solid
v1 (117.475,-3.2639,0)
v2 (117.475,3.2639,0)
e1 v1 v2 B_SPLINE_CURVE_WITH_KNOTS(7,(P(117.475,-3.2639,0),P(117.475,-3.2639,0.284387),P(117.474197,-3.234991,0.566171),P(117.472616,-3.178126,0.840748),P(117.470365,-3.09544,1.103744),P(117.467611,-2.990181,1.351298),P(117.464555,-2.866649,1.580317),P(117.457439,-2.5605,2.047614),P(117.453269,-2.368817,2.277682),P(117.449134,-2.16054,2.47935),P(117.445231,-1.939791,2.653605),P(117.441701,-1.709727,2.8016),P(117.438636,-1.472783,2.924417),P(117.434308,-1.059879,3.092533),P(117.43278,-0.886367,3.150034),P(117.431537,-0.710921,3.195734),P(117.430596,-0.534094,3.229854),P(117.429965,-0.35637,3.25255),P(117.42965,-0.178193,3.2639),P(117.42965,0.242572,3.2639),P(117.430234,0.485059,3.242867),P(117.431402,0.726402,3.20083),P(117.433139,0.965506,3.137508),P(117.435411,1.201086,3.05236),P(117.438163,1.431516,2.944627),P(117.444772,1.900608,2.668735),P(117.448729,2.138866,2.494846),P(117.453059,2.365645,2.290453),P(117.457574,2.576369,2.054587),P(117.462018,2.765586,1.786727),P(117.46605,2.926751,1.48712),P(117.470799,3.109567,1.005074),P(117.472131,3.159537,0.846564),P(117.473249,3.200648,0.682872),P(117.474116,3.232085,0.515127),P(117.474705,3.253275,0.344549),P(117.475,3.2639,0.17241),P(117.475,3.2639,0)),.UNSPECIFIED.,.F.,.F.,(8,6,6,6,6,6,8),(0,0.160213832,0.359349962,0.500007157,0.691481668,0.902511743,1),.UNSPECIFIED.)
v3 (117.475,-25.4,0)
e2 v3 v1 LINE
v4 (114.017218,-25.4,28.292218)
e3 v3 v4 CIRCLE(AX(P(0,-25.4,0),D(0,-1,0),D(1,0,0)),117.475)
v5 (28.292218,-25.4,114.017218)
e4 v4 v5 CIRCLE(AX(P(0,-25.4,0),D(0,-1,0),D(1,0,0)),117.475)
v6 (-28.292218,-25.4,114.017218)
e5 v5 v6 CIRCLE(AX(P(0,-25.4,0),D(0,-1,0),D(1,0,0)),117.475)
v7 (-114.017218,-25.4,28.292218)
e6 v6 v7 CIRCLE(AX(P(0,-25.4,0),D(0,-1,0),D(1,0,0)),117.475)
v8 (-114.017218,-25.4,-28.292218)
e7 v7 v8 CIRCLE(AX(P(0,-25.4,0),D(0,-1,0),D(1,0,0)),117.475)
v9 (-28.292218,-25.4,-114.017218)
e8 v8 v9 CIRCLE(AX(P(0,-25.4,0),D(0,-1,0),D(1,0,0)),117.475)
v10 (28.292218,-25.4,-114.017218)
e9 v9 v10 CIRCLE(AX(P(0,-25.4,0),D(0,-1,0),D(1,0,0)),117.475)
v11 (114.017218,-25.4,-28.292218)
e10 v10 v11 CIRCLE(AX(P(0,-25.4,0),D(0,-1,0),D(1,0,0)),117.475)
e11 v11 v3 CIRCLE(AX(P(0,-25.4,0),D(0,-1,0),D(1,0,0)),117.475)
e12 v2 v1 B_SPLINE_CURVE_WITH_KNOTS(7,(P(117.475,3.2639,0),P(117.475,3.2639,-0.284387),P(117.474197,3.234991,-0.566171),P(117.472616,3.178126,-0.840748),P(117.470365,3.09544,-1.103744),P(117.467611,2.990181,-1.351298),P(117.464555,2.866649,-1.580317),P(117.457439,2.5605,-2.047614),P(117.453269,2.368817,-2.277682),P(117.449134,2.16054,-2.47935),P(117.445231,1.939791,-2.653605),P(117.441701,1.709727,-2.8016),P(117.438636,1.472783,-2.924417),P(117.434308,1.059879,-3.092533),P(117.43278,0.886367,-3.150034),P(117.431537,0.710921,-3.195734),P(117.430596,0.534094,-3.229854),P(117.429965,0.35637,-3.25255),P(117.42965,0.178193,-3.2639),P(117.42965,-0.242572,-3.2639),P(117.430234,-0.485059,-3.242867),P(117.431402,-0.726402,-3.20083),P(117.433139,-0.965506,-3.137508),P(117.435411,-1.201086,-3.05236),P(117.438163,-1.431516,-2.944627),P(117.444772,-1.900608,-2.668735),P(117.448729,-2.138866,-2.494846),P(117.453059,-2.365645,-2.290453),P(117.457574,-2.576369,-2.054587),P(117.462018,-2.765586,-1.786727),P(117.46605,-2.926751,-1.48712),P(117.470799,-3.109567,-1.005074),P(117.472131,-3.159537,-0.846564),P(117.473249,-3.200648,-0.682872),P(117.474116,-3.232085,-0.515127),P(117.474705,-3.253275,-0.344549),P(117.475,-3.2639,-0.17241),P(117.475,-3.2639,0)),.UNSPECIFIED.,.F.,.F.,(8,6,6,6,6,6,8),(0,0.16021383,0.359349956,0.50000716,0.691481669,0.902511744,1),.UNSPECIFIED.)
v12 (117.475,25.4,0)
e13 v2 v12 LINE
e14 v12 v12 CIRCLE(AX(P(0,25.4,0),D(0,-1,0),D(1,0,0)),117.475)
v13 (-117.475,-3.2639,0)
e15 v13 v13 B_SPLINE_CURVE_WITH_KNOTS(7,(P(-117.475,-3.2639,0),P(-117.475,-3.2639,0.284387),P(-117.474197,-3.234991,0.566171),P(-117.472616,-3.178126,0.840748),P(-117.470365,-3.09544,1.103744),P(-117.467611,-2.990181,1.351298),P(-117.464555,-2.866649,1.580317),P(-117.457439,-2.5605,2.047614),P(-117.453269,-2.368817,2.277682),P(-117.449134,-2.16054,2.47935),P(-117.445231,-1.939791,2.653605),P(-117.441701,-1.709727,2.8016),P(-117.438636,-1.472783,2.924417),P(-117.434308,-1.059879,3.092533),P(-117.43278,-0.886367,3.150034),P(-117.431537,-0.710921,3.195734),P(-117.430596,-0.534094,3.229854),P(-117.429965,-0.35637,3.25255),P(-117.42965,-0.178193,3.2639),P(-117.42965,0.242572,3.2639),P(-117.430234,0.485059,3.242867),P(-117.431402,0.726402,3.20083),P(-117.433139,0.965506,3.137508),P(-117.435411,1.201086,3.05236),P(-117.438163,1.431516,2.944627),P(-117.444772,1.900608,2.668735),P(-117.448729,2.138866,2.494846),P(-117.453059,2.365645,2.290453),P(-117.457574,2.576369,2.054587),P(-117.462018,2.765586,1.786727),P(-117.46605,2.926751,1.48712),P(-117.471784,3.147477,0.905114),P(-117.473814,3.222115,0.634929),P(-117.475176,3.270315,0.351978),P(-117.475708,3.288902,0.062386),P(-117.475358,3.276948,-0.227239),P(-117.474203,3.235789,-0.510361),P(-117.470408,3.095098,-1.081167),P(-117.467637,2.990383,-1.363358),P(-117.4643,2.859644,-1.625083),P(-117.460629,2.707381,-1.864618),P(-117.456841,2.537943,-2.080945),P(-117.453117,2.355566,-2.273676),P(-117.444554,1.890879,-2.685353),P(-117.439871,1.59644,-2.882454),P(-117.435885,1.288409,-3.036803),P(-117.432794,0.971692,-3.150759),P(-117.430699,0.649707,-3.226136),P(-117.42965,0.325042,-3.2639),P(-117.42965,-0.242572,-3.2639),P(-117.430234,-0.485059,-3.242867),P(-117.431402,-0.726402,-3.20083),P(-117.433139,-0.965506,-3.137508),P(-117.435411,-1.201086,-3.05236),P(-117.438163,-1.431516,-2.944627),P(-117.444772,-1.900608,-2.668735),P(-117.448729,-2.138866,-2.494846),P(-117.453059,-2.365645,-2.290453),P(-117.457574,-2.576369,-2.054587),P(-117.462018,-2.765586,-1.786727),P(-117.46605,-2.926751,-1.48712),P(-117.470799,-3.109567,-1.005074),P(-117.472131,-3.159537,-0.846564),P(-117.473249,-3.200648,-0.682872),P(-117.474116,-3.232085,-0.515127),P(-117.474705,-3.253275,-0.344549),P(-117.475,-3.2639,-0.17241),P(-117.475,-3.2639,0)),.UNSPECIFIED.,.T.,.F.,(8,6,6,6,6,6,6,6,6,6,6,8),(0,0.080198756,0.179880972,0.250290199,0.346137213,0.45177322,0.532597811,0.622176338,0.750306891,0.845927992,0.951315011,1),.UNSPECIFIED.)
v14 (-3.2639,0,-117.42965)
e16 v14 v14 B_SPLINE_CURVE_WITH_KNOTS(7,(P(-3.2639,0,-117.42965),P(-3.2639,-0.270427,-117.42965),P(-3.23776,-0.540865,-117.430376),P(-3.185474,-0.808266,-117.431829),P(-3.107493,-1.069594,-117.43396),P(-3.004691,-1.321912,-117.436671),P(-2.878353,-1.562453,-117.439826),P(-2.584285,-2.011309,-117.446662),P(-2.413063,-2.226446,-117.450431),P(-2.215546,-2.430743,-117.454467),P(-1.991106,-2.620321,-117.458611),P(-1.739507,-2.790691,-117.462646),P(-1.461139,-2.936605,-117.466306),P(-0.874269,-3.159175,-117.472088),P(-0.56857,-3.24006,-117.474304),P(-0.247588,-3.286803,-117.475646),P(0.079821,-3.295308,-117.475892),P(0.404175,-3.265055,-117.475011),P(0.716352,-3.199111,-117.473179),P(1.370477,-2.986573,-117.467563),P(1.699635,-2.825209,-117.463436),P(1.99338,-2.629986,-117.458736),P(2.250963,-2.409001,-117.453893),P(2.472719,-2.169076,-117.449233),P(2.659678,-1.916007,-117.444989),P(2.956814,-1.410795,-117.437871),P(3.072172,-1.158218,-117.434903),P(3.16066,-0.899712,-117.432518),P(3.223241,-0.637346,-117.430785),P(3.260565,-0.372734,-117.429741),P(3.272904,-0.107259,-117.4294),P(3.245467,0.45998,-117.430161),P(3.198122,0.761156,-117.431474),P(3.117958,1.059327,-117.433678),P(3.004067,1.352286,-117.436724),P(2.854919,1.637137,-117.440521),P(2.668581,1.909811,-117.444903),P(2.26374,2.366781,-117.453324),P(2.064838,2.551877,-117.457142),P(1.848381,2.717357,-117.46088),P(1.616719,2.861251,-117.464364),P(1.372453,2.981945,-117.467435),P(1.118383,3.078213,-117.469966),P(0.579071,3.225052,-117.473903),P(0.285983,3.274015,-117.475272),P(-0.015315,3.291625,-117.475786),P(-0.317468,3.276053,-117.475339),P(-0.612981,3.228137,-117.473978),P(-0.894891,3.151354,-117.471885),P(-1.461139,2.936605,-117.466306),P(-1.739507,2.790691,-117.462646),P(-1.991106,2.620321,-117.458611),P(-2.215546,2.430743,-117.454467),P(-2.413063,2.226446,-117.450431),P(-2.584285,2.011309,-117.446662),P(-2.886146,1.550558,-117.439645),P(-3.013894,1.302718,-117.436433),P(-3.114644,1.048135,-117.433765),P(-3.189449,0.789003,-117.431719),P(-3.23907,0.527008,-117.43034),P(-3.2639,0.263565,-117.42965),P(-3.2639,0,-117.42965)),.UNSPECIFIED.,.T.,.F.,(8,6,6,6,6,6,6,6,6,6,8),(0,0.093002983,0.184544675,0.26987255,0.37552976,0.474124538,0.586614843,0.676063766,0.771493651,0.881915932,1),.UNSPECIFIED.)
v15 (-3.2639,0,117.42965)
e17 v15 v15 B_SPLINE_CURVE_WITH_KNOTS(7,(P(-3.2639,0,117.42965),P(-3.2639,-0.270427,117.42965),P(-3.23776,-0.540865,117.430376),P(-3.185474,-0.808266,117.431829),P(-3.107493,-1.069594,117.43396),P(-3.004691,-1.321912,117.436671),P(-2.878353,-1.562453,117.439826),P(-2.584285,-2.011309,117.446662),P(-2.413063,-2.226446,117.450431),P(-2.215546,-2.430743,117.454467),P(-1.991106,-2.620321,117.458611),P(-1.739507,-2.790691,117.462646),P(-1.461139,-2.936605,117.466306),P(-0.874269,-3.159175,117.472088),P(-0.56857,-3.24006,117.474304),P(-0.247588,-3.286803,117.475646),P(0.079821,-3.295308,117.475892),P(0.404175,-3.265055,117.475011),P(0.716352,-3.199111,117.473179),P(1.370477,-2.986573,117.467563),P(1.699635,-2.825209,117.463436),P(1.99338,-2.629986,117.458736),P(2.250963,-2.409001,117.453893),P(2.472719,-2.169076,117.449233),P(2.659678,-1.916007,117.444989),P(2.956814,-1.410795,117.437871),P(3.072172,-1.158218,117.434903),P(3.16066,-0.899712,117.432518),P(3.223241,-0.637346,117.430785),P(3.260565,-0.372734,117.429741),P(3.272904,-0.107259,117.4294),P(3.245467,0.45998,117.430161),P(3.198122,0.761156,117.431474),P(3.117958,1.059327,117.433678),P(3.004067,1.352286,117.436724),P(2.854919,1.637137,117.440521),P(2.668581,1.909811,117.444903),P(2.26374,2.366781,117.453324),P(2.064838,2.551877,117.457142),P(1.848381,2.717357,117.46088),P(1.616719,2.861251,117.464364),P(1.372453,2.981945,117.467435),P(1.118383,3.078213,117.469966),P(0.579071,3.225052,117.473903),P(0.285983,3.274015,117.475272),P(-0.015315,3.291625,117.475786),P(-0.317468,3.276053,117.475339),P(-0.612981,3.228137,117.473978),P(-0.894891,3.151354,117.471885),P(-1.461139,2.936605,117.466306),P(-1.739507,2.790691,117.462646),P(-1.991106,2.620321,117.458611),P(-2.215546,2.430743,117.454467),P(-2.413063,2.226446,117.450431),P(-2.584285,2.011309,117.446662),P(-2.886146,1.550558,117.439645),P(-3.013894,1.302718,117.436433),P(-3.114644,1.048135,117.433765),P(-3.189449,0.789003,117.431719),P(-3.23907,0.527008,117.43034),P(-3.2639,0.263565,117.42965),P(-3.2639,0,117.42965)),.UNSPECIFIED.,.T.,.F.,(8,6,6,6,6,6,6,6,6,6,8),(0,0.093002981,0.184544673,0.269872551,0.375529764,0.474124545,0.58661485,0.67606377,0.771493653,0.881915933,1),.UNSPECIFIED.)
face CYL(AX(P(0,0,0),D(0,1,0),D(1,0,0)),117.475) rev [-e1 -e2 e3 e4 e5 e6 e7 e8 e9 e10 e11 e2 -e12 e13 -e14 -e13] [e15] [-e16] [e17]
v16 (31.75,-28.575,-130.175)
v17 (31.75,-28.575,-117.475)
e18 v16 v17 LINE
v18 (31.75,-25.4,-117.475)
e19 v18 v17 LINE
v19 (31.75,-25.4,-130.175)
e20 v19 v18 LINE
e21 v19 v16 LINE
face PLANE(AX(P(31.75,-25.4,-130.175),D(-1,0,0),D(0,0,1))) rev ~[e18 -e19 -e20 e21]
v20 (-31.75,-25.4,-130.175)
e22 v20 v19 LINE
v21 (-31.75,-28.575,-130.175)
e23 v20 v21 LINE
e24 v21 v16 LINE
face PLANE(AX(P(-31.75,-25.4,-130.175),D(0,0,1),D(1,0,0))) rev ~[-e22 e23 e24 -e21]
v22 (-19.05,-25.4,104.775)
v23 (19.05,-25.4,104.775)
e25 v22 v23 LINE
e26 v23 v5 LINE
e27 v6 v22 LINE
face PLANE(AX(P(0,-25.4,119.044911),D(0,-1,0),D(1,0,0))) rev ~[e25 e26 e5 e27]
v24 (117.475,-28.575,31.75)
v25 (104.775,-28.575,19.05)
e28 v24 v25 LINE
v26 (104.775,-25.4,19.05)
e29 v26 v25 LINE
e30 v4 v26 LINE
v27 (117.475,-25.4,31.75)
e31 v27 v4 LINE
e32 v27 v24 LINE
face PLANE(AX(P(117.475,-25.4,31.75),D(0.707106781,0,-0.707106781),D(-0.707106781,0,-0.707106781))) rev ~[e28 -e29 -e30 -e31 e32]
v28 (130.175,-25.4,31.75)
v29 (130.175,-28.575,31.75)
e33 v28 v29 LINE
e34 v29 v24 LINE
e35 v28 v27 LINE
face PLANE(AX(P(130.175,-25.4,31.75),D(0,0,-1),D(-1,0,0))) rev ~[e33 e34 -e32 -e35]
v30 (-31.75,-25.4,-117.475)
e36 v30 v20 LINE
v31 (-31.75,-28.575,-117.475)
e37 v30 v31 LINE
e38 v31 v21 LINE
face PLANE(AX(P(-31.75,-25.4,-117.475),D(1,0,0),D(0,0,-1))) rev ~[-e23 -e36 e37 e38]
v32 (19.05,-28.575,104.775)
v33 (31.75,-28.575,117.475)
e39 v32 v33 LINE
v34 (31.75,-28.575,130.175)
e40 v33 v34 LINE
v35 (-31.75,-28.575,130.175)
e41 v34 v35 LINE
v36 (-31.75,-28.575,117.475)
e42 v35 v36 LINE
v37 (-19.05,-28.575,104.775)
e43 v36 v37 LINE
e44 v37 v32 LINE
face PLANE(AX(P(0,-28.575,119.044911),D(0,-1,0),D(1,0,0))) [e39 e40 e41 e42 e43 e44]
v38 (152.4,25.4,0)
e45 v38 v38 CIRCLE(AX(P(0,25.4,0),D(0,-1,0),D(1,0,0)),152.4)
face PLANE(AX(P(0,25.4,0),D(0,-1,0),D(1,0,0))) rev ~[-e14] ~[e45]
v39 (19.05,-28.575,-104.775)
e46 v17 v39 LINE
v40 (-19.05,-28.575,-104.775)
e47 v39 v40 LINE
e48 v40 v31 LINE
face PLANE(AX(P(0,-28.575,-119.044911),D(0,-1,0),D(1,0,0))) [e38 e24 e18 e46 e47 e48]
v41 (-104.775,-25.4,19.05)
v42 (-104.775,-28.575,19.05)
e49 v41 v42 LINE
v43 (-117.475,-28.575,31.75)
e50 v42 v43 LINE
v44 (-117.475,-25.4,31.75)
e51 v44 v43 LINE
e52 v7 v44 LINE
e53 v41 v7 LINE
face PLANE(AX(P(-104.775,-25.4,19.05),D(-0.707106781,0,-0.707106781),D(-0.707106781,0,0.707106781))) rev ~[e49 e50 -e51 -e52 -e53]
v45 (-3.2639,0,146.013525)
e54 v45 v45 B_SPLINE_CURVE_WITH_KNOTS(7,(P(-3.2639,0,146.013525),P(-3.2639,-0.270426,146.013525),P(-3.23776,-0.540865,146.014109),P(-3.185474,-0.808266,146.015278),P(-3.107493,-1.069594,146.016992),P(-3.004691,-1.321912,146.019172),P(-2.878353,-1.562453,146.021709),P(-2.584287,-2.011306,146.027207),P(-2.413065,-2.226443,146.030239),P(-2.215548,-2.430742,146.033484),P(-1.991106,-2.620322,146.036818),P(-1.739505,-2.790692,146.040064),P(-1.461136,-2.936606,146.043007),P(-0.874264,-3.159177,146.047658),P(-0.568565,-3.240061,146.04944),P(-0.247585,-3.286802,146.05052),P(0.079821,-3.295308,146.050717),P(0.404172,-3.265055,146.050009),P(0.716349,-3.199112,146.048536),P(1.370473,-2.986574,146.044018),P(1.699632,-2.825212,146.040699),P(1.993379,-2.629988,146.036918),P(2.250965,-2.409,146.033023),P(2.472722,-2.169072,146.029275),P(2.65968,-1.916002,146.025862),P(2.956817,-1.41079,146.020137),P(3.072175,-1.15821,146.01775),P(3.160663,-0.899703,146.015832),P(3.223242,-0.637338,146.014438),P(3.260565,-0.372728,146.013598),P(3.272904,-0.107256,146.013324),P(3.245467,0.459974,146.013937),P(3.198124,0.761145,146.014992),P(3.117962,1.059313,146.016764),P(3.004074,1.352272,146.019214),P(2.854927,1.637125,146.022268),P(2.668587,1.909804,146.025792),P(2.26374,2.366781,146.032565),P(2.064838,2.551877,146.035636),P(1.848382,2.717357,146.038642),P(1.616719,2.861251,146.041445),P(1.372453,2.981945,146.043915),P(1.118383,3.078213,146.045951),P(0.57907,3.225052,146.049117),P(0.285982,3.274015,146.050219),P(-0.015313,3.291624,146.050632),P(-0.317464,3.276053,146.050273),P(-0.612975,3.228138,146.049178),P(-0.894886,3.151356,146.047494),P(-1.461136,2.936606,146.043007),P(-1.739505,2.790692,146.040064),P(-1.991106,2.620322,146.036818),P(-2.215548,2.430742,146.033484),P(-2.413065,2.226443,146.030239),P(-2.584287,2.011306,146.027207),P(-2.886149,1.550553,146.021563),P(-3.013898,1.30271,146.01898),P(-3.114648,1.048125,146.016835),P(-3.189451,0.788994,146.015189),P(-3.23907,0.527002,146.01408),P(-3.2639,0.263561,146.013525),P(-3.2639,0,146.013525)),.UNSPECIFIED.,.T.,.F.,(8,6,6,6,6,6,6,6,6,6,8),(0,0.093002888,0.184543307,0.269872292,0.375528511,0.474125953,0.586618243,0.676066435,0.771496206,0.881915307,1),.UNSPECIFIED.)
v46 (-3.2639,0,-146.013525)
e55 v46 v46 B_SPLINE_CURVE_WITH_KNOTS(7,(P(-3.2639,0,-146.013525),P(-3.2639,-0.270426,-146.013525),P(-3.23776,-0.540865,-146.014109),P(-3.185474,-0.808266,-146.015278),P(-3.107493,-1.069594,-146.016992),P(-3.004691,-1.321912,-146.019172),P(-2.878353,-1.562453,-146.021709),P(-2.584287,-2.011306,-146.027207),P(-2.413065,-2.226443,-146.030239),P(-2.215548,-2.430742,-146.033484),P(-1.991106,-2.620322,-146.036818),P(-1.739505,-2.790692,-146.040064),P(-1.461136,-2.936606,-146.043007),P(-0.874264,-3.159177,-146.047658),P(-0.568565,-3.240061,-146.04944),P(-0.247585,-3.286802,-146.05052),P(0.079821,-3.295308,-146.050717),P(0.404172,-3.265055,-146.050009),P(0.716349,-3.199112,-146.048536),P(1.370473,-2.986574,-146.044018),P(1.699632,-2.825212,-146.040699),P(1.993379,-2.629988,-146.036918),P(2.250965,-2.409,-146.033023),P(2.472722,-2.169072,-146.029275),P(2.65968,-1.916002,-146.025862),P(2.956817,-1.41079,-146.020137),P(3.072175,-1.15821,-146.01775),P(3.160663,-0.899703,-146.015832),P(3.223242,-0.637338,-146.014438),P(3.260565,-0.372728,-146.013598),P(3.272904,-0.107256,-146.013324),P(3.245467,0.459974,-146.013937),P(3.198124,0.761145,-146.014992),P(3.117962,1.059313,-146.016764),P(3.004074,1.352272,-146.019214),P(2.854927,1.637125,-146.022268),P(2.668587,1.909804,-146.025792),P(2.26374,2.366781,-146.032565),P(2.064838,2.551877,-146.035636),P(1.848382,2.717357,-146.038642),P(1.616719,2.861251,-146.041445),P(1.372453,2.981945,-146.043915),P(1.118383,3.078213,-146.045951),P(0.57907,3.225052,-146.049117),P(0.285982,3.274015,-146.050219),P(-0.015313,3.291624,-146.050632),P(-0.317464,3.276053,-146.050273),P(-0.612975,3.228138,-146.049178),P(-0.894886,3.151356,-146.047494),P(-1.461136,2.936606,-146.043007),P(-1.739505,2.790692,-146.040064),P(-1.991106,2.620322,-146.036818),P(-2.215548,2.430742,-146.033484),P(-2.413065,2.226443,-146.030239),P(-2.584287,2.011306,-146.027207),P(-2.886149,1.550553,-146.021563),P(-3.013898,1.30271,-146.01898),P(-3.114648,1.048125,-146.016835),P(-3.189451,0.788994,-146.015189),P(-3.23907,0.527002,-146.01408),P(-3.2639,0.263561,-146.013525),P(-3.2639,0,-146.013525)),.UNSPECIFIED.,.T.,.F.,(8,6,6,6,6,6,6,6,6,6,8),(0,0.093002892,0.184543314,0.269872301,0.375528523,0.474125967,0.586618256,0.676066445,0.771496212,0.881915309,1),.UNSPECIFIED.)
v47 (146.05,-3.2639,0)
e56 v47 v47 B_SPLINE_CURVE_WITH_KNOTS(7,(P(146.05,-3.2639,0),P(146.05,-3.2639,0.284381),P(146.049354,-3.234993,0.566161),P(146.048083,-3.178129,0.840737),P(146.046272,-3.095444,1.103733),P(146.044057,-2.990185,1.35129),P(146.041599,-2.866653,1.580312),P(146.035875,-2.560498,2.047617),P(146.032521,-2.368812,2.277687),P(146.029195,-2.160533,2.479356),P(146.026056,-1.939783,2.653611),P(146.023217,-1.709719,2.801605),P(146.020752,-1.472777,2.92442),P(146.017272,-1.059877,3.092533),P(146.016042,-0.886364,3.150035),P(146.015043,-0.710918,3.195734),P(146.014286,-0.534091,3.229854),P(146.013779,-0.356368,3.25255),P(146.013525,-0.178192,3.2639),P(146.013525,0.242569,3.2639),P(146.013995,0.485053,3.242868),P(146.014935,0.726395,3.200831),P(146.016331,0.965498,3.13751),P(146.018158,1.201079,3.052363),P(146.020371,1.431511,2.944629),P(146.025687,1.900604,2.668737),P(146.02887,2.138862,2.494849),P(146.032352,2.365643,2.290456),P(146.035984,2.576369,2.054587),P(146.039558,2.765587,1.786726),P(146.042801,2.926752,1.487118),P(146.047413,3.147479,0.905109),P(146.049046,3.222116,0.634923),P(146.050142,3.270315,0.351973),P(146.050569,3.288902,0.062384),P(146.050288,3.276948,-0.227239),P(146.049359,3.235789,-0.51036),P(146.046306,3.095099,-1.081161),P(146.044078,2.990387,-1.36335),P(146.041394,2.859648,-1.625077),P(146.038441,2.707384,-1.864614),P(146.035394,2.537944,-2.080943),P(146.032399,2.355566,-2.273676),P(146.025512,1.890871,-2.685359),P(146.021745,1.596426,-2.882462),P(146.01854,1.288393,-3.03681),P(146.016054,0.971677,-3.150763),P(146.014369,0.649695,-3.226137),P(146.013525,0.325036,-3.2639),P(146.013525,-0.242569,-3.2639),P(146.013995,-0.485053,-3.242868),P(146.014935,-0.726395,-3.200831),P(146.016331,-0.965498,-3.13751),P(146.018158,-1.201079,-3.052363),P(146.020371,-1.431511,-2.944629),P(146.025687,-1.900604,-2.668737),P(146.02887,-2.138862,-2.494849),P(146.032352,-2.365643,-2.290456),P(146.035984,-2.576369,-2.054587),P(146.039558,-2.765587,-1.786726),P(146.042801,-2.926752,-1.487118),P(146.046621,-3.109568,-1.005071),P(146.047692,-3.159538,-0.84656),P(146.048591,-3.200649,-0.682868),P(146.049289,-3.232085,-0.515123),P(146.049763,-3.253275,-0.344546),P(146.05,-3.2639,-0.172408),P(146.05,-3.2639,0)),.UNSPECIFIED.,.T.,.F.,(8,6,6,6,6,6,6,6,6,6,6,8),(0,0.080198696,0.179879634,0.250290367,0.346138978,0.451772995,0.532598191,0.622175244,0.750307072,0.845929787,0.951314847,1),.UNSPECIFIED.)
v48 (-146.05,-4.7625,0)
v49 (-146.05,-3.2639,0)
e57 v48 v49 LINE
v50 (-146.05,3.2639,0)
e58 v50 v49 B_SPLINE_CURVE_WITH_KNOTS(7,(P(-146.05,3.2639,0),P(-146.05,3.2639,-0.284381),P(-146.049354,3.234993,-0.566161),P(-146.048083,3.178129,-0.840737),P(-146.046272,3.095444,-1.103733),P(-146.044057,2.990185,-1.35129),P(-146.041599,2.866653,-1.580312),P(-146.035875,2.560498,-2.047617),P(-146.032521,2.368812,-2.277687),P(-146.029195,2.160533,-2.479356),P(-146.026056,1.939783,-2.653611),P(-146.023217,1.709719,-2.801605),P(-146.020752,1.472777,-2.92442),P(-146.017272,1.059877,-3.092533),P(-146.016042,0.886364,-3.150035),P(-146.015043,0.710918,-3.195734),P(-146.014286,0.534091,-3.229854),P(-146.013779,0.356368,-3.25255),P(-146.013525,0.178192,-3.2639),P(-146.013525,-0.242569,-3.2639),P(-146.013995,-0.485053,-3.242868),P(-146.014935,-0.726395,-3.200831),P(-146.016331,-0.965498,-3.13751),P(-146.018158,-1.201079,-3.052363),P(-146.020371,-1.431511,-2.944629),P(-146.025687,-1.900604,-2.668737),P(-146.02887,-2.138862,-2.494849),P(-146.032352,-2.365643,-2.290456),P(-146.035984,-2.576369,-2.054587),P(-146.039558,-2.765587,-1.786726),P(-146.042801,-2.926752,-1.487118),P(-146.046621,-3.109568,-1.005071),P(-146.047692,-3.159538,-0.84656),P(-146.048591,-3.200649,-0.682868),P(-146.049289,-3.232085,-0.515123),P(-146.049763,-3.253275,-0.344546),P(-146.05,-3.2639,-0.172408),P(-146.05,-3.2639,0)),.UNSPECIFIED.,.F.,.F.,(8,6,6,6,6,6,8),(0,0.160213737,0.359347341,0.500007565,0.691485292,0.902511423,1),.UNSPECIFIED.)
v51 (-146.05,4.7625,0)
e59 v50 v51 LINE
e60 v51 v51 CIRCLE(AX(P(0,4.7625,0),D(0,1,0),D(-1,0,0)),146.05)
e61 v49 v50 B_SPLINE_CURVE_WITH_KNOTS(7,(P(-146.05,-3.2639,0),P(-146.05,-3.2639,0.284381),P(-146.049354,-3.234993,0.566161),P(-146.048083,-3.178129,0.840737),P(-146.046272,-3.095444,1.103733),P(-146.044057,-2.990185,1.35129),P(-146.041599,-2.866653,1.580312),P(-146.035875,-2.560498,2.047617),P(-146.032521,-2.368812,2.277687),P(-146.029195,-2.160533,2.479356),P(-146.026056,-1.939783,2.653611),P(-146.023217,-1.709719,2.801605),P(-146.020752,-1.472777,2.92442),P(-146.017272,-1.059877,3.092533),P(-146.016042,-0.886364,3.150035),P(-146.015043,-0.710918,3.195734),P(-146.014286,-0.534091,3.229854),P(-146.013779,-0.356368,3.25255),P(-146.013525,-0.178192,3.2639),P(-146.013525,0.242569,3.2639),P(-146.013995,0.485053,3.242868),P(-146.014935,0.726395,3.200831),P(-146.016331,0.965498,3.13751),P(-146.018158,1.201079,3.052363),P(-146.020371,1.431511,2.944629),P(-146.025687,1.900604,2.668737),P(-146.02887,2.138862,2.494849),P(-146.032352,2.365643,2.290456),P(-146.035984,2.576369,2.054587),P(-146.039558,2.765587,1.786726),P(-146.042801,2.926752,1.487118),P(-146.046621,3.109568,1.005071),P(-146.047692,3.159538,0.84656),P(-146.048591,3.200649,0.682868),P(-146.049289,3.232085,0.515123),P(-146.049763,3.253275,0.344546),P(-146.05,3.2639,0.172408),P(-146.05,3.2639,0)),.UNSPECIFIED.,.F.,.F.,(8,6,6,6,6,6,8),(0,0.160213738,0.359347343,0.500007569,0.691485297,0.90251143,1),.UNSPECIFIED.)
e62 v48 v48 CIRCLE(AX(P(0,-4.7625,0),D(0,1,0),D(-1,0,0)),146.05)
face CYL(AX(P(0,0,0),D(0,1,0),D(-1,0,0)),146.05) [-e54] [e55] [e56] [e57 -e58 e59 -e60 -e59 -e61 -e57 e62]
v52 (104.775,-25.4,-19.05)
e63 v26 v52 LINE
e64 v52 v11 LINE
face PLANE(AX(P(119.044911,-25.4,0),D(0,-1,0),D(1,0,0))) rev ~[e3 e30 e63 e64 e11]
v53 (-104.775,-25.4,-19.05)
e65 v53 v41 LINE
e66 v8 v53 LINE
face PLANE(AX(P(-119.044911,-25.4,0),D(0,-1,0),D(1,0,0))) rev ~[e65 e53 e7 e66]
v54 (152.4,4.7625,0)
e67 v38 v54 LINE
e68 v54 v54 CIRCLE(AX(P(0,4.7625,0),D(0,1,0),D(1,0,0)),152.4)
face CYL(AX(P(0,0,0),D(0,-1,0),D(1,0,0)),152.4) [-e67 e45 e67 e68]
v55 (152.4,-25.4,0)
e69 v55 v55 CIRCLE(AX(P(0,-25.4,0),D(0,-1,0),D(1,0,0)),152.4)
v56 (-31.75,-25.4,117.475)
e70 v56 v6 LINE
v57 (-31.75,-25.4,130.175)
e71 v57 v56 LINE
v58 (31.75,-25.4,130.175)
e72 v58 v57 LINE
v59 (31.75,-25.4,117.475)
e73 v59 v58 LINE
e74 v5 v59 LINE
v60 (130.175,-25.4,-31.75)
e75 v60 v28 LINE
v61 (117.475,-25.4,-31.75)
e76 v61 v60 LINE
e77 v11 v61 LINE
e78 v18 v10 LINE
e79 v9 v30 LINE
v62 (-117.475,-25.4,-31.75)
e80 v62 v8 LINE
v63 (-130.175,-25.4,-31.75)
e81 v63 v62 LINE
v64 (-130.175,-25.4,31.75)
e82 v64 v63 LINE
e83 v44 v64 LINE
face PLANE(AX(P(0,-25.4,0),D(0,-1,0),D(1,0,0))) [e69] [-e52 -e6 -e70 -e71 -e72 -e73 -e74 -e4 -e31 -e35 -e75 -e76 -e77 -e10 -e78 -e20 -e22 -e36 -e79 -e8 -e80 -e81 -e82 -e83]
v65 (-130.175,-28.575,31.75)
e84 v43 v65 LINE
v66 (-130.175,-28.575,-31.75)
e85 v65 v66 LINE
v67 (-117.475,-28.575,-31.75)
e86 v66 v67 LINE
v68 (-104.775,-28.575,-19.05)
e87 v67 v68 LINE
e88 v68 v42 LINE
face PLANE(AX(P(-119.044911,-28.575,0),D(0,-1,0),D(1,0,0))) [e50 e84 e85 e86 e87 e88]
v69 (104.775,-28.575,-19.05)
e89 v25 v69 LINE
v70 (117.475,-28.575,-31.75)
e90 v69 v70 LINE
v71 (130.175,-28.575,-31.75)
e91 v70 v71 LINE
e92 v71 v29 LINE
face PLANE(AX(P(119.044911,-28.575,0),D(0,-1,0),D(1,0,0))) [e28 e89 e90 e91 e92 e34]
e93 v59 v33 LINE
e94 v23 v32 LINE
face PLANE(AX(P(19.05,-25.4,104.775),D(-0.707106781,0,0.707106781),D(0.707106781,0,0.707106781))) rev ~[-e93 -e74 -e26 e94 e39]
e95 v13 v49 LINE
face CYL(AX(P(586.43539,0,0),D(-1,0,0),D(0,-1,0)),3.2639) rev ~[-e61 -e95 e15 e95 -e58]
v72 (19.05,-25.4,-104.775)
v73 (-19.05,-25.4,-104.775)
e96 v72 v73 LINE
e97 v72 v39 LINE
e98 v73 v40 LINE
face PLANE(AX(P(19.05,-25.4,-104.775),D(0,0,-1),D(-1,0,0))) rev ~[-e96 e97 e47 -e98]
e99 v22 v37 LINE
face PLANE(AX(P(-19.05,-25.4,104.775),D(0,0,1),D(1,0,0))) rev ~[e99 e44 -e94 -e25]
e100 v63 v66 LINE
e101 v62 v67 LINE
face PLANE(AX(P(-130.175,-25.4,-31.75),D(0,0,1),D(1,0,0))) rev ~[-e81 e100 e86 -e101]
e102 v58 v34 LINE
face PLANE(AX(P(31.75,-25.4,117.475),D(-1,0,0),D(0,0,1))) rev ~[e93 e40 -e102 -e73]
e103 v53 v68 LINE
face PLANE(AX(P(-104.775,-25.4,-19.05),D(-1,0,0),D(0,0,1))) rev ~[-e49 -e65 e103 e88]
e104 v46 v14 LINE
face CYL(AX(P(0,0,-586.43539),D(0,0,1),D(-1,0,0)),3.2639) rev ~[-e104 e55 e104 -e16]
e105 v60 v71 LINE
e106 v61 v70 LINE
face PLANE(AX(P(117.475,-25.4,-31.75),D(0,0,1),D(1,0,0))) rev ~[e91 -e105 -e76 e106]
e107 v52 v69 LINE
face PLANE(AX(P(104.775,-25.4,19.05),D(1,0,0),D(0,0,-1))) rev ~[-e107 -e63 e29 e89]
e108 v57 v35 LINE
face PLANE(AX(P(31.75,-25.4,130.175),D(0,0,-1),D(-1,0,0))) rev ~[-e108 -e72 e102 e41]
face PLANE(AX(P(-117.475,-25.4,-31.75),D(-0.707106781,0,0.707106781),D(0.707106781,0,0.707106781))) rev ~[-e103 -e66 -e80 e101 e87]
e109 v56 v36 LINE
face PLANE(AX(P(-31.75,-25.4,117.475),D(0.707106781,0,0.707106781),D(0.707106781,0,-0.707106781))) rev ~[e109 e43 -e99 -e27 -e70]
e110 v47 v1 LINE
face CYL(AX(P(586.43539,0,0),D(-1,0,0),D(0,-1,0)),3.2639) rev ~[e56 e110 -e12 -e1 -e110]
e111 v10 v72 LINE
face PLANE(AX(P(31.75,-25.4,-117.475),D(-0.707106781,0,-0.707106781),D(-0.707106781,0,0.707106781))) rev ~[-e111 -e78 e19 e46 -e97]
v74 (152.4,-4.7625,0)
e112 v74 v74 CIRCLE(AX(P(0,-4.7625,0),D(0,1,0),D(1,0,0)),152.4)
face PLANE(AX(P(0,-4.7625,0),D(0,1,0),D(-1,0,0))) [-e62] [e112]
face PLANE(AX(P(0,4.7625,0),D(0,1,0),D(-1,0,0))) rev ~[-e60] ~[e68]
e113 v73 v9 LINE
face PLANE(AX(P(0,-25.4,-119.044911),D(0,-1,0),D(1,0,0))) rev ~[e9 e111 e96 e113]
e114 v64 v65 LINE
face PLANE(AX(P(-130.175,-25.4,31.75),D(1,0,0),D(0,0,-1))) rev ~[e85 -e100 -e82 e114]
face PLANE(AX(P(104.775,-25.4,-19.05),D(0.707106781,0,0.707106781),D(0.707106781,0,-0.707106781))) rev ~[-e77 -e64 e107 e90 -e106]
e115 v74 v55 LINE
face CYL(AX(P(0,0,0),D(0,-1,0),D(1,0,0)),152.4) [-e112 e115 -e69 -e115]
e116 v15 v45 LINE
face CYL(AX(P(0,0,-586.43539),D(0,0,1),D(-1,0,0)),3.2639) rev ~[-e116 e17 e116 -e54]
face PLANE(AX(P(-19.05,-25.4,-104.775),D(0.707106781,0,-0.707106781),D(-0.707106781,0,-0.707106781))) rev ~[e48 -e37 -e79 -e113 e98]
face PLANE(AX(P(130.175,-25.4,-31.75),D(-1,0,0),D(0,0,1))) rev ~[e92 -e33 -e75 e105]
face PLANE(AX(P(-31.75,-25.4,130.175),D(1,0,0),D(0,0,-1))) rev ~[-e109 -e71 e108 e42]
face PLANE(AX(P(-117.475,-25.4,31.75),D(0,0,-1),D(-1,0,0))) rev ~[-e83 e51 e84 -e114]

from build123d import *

# Parameters (mm, degrees)
F0_R      = 152.4
F0_R_2    = 117.475
F1_DEPTH  = 25.4
F2_W      = 6.35
F2_H      = 9.525
F6_D      = 6.5278
F9_D      = 6.5278
F11_DEPTH = 3.175


with BuildPart() as f1:
    # F0 (on Front) → F1 (new body, symmetric)
    with BuildSketch(Plane.XZ):
        Circle(F0_R)
        Circle(F0_R_2, mode=Mode.SUBTRACT)
    extrude(amount=F1_DEPTH, both=True)

    # F2 (on Top) → F3 (revolve, cut)
    with BuildSketch(Plane.XY):
        with Locations((-149.225, 0)):
            Rectangle(F2_W, F2_H)
    revolve(axis=Axis((0, -5.8908760548, 0), (0, 1, 0)), mode=Mode.SUBTRACT)

    # F6 (through all)
    with Locations(Plane(origin=(0, 0, -152.4), x_dir=(1, 0, 0), z_dir=(0, 0, -1))):
        with Locations((0, 0)):
            Hole(F6_D / 2)

    # F9 (through all)
    with Locations(Plane.YZ.offset(152.4)):
        with Locations((0, 0)):
            Hole(F9_D / 2)

    # F10 (on face) → F11 (join)
    with BuildSketch(Plane.XZ.offset(25.4)):
        Polygon((31.75, 130.175), (-31.75, 130.175), (-31.75, 117.475), (-19.05, 104.775), (19.05, 104.775), (31.75, 117.475), align=None)
        Polygon((-130.175, 31.75), (-130.175, -31.75), (-117.475, -31.75), (-104.775, -19.05), (-104.775, 19.05), (-117.475, 31.75), align=None)
        Polygon((-31.75, -130.175), (31.75, -130.175), (31.75, -117.475), (19.05, -104.775), (-19.05, -104.775), (-31.75, -117.475), align=None)
        Polygon((130.175, -31.75), (130.175, 31.75), (117.475, 31.75), (104.775, 19.05), (104.775, -19.05), (117.475, -31.75), align=None)
    extrude(amount=F11_DEPTH)


solid = f1.part
